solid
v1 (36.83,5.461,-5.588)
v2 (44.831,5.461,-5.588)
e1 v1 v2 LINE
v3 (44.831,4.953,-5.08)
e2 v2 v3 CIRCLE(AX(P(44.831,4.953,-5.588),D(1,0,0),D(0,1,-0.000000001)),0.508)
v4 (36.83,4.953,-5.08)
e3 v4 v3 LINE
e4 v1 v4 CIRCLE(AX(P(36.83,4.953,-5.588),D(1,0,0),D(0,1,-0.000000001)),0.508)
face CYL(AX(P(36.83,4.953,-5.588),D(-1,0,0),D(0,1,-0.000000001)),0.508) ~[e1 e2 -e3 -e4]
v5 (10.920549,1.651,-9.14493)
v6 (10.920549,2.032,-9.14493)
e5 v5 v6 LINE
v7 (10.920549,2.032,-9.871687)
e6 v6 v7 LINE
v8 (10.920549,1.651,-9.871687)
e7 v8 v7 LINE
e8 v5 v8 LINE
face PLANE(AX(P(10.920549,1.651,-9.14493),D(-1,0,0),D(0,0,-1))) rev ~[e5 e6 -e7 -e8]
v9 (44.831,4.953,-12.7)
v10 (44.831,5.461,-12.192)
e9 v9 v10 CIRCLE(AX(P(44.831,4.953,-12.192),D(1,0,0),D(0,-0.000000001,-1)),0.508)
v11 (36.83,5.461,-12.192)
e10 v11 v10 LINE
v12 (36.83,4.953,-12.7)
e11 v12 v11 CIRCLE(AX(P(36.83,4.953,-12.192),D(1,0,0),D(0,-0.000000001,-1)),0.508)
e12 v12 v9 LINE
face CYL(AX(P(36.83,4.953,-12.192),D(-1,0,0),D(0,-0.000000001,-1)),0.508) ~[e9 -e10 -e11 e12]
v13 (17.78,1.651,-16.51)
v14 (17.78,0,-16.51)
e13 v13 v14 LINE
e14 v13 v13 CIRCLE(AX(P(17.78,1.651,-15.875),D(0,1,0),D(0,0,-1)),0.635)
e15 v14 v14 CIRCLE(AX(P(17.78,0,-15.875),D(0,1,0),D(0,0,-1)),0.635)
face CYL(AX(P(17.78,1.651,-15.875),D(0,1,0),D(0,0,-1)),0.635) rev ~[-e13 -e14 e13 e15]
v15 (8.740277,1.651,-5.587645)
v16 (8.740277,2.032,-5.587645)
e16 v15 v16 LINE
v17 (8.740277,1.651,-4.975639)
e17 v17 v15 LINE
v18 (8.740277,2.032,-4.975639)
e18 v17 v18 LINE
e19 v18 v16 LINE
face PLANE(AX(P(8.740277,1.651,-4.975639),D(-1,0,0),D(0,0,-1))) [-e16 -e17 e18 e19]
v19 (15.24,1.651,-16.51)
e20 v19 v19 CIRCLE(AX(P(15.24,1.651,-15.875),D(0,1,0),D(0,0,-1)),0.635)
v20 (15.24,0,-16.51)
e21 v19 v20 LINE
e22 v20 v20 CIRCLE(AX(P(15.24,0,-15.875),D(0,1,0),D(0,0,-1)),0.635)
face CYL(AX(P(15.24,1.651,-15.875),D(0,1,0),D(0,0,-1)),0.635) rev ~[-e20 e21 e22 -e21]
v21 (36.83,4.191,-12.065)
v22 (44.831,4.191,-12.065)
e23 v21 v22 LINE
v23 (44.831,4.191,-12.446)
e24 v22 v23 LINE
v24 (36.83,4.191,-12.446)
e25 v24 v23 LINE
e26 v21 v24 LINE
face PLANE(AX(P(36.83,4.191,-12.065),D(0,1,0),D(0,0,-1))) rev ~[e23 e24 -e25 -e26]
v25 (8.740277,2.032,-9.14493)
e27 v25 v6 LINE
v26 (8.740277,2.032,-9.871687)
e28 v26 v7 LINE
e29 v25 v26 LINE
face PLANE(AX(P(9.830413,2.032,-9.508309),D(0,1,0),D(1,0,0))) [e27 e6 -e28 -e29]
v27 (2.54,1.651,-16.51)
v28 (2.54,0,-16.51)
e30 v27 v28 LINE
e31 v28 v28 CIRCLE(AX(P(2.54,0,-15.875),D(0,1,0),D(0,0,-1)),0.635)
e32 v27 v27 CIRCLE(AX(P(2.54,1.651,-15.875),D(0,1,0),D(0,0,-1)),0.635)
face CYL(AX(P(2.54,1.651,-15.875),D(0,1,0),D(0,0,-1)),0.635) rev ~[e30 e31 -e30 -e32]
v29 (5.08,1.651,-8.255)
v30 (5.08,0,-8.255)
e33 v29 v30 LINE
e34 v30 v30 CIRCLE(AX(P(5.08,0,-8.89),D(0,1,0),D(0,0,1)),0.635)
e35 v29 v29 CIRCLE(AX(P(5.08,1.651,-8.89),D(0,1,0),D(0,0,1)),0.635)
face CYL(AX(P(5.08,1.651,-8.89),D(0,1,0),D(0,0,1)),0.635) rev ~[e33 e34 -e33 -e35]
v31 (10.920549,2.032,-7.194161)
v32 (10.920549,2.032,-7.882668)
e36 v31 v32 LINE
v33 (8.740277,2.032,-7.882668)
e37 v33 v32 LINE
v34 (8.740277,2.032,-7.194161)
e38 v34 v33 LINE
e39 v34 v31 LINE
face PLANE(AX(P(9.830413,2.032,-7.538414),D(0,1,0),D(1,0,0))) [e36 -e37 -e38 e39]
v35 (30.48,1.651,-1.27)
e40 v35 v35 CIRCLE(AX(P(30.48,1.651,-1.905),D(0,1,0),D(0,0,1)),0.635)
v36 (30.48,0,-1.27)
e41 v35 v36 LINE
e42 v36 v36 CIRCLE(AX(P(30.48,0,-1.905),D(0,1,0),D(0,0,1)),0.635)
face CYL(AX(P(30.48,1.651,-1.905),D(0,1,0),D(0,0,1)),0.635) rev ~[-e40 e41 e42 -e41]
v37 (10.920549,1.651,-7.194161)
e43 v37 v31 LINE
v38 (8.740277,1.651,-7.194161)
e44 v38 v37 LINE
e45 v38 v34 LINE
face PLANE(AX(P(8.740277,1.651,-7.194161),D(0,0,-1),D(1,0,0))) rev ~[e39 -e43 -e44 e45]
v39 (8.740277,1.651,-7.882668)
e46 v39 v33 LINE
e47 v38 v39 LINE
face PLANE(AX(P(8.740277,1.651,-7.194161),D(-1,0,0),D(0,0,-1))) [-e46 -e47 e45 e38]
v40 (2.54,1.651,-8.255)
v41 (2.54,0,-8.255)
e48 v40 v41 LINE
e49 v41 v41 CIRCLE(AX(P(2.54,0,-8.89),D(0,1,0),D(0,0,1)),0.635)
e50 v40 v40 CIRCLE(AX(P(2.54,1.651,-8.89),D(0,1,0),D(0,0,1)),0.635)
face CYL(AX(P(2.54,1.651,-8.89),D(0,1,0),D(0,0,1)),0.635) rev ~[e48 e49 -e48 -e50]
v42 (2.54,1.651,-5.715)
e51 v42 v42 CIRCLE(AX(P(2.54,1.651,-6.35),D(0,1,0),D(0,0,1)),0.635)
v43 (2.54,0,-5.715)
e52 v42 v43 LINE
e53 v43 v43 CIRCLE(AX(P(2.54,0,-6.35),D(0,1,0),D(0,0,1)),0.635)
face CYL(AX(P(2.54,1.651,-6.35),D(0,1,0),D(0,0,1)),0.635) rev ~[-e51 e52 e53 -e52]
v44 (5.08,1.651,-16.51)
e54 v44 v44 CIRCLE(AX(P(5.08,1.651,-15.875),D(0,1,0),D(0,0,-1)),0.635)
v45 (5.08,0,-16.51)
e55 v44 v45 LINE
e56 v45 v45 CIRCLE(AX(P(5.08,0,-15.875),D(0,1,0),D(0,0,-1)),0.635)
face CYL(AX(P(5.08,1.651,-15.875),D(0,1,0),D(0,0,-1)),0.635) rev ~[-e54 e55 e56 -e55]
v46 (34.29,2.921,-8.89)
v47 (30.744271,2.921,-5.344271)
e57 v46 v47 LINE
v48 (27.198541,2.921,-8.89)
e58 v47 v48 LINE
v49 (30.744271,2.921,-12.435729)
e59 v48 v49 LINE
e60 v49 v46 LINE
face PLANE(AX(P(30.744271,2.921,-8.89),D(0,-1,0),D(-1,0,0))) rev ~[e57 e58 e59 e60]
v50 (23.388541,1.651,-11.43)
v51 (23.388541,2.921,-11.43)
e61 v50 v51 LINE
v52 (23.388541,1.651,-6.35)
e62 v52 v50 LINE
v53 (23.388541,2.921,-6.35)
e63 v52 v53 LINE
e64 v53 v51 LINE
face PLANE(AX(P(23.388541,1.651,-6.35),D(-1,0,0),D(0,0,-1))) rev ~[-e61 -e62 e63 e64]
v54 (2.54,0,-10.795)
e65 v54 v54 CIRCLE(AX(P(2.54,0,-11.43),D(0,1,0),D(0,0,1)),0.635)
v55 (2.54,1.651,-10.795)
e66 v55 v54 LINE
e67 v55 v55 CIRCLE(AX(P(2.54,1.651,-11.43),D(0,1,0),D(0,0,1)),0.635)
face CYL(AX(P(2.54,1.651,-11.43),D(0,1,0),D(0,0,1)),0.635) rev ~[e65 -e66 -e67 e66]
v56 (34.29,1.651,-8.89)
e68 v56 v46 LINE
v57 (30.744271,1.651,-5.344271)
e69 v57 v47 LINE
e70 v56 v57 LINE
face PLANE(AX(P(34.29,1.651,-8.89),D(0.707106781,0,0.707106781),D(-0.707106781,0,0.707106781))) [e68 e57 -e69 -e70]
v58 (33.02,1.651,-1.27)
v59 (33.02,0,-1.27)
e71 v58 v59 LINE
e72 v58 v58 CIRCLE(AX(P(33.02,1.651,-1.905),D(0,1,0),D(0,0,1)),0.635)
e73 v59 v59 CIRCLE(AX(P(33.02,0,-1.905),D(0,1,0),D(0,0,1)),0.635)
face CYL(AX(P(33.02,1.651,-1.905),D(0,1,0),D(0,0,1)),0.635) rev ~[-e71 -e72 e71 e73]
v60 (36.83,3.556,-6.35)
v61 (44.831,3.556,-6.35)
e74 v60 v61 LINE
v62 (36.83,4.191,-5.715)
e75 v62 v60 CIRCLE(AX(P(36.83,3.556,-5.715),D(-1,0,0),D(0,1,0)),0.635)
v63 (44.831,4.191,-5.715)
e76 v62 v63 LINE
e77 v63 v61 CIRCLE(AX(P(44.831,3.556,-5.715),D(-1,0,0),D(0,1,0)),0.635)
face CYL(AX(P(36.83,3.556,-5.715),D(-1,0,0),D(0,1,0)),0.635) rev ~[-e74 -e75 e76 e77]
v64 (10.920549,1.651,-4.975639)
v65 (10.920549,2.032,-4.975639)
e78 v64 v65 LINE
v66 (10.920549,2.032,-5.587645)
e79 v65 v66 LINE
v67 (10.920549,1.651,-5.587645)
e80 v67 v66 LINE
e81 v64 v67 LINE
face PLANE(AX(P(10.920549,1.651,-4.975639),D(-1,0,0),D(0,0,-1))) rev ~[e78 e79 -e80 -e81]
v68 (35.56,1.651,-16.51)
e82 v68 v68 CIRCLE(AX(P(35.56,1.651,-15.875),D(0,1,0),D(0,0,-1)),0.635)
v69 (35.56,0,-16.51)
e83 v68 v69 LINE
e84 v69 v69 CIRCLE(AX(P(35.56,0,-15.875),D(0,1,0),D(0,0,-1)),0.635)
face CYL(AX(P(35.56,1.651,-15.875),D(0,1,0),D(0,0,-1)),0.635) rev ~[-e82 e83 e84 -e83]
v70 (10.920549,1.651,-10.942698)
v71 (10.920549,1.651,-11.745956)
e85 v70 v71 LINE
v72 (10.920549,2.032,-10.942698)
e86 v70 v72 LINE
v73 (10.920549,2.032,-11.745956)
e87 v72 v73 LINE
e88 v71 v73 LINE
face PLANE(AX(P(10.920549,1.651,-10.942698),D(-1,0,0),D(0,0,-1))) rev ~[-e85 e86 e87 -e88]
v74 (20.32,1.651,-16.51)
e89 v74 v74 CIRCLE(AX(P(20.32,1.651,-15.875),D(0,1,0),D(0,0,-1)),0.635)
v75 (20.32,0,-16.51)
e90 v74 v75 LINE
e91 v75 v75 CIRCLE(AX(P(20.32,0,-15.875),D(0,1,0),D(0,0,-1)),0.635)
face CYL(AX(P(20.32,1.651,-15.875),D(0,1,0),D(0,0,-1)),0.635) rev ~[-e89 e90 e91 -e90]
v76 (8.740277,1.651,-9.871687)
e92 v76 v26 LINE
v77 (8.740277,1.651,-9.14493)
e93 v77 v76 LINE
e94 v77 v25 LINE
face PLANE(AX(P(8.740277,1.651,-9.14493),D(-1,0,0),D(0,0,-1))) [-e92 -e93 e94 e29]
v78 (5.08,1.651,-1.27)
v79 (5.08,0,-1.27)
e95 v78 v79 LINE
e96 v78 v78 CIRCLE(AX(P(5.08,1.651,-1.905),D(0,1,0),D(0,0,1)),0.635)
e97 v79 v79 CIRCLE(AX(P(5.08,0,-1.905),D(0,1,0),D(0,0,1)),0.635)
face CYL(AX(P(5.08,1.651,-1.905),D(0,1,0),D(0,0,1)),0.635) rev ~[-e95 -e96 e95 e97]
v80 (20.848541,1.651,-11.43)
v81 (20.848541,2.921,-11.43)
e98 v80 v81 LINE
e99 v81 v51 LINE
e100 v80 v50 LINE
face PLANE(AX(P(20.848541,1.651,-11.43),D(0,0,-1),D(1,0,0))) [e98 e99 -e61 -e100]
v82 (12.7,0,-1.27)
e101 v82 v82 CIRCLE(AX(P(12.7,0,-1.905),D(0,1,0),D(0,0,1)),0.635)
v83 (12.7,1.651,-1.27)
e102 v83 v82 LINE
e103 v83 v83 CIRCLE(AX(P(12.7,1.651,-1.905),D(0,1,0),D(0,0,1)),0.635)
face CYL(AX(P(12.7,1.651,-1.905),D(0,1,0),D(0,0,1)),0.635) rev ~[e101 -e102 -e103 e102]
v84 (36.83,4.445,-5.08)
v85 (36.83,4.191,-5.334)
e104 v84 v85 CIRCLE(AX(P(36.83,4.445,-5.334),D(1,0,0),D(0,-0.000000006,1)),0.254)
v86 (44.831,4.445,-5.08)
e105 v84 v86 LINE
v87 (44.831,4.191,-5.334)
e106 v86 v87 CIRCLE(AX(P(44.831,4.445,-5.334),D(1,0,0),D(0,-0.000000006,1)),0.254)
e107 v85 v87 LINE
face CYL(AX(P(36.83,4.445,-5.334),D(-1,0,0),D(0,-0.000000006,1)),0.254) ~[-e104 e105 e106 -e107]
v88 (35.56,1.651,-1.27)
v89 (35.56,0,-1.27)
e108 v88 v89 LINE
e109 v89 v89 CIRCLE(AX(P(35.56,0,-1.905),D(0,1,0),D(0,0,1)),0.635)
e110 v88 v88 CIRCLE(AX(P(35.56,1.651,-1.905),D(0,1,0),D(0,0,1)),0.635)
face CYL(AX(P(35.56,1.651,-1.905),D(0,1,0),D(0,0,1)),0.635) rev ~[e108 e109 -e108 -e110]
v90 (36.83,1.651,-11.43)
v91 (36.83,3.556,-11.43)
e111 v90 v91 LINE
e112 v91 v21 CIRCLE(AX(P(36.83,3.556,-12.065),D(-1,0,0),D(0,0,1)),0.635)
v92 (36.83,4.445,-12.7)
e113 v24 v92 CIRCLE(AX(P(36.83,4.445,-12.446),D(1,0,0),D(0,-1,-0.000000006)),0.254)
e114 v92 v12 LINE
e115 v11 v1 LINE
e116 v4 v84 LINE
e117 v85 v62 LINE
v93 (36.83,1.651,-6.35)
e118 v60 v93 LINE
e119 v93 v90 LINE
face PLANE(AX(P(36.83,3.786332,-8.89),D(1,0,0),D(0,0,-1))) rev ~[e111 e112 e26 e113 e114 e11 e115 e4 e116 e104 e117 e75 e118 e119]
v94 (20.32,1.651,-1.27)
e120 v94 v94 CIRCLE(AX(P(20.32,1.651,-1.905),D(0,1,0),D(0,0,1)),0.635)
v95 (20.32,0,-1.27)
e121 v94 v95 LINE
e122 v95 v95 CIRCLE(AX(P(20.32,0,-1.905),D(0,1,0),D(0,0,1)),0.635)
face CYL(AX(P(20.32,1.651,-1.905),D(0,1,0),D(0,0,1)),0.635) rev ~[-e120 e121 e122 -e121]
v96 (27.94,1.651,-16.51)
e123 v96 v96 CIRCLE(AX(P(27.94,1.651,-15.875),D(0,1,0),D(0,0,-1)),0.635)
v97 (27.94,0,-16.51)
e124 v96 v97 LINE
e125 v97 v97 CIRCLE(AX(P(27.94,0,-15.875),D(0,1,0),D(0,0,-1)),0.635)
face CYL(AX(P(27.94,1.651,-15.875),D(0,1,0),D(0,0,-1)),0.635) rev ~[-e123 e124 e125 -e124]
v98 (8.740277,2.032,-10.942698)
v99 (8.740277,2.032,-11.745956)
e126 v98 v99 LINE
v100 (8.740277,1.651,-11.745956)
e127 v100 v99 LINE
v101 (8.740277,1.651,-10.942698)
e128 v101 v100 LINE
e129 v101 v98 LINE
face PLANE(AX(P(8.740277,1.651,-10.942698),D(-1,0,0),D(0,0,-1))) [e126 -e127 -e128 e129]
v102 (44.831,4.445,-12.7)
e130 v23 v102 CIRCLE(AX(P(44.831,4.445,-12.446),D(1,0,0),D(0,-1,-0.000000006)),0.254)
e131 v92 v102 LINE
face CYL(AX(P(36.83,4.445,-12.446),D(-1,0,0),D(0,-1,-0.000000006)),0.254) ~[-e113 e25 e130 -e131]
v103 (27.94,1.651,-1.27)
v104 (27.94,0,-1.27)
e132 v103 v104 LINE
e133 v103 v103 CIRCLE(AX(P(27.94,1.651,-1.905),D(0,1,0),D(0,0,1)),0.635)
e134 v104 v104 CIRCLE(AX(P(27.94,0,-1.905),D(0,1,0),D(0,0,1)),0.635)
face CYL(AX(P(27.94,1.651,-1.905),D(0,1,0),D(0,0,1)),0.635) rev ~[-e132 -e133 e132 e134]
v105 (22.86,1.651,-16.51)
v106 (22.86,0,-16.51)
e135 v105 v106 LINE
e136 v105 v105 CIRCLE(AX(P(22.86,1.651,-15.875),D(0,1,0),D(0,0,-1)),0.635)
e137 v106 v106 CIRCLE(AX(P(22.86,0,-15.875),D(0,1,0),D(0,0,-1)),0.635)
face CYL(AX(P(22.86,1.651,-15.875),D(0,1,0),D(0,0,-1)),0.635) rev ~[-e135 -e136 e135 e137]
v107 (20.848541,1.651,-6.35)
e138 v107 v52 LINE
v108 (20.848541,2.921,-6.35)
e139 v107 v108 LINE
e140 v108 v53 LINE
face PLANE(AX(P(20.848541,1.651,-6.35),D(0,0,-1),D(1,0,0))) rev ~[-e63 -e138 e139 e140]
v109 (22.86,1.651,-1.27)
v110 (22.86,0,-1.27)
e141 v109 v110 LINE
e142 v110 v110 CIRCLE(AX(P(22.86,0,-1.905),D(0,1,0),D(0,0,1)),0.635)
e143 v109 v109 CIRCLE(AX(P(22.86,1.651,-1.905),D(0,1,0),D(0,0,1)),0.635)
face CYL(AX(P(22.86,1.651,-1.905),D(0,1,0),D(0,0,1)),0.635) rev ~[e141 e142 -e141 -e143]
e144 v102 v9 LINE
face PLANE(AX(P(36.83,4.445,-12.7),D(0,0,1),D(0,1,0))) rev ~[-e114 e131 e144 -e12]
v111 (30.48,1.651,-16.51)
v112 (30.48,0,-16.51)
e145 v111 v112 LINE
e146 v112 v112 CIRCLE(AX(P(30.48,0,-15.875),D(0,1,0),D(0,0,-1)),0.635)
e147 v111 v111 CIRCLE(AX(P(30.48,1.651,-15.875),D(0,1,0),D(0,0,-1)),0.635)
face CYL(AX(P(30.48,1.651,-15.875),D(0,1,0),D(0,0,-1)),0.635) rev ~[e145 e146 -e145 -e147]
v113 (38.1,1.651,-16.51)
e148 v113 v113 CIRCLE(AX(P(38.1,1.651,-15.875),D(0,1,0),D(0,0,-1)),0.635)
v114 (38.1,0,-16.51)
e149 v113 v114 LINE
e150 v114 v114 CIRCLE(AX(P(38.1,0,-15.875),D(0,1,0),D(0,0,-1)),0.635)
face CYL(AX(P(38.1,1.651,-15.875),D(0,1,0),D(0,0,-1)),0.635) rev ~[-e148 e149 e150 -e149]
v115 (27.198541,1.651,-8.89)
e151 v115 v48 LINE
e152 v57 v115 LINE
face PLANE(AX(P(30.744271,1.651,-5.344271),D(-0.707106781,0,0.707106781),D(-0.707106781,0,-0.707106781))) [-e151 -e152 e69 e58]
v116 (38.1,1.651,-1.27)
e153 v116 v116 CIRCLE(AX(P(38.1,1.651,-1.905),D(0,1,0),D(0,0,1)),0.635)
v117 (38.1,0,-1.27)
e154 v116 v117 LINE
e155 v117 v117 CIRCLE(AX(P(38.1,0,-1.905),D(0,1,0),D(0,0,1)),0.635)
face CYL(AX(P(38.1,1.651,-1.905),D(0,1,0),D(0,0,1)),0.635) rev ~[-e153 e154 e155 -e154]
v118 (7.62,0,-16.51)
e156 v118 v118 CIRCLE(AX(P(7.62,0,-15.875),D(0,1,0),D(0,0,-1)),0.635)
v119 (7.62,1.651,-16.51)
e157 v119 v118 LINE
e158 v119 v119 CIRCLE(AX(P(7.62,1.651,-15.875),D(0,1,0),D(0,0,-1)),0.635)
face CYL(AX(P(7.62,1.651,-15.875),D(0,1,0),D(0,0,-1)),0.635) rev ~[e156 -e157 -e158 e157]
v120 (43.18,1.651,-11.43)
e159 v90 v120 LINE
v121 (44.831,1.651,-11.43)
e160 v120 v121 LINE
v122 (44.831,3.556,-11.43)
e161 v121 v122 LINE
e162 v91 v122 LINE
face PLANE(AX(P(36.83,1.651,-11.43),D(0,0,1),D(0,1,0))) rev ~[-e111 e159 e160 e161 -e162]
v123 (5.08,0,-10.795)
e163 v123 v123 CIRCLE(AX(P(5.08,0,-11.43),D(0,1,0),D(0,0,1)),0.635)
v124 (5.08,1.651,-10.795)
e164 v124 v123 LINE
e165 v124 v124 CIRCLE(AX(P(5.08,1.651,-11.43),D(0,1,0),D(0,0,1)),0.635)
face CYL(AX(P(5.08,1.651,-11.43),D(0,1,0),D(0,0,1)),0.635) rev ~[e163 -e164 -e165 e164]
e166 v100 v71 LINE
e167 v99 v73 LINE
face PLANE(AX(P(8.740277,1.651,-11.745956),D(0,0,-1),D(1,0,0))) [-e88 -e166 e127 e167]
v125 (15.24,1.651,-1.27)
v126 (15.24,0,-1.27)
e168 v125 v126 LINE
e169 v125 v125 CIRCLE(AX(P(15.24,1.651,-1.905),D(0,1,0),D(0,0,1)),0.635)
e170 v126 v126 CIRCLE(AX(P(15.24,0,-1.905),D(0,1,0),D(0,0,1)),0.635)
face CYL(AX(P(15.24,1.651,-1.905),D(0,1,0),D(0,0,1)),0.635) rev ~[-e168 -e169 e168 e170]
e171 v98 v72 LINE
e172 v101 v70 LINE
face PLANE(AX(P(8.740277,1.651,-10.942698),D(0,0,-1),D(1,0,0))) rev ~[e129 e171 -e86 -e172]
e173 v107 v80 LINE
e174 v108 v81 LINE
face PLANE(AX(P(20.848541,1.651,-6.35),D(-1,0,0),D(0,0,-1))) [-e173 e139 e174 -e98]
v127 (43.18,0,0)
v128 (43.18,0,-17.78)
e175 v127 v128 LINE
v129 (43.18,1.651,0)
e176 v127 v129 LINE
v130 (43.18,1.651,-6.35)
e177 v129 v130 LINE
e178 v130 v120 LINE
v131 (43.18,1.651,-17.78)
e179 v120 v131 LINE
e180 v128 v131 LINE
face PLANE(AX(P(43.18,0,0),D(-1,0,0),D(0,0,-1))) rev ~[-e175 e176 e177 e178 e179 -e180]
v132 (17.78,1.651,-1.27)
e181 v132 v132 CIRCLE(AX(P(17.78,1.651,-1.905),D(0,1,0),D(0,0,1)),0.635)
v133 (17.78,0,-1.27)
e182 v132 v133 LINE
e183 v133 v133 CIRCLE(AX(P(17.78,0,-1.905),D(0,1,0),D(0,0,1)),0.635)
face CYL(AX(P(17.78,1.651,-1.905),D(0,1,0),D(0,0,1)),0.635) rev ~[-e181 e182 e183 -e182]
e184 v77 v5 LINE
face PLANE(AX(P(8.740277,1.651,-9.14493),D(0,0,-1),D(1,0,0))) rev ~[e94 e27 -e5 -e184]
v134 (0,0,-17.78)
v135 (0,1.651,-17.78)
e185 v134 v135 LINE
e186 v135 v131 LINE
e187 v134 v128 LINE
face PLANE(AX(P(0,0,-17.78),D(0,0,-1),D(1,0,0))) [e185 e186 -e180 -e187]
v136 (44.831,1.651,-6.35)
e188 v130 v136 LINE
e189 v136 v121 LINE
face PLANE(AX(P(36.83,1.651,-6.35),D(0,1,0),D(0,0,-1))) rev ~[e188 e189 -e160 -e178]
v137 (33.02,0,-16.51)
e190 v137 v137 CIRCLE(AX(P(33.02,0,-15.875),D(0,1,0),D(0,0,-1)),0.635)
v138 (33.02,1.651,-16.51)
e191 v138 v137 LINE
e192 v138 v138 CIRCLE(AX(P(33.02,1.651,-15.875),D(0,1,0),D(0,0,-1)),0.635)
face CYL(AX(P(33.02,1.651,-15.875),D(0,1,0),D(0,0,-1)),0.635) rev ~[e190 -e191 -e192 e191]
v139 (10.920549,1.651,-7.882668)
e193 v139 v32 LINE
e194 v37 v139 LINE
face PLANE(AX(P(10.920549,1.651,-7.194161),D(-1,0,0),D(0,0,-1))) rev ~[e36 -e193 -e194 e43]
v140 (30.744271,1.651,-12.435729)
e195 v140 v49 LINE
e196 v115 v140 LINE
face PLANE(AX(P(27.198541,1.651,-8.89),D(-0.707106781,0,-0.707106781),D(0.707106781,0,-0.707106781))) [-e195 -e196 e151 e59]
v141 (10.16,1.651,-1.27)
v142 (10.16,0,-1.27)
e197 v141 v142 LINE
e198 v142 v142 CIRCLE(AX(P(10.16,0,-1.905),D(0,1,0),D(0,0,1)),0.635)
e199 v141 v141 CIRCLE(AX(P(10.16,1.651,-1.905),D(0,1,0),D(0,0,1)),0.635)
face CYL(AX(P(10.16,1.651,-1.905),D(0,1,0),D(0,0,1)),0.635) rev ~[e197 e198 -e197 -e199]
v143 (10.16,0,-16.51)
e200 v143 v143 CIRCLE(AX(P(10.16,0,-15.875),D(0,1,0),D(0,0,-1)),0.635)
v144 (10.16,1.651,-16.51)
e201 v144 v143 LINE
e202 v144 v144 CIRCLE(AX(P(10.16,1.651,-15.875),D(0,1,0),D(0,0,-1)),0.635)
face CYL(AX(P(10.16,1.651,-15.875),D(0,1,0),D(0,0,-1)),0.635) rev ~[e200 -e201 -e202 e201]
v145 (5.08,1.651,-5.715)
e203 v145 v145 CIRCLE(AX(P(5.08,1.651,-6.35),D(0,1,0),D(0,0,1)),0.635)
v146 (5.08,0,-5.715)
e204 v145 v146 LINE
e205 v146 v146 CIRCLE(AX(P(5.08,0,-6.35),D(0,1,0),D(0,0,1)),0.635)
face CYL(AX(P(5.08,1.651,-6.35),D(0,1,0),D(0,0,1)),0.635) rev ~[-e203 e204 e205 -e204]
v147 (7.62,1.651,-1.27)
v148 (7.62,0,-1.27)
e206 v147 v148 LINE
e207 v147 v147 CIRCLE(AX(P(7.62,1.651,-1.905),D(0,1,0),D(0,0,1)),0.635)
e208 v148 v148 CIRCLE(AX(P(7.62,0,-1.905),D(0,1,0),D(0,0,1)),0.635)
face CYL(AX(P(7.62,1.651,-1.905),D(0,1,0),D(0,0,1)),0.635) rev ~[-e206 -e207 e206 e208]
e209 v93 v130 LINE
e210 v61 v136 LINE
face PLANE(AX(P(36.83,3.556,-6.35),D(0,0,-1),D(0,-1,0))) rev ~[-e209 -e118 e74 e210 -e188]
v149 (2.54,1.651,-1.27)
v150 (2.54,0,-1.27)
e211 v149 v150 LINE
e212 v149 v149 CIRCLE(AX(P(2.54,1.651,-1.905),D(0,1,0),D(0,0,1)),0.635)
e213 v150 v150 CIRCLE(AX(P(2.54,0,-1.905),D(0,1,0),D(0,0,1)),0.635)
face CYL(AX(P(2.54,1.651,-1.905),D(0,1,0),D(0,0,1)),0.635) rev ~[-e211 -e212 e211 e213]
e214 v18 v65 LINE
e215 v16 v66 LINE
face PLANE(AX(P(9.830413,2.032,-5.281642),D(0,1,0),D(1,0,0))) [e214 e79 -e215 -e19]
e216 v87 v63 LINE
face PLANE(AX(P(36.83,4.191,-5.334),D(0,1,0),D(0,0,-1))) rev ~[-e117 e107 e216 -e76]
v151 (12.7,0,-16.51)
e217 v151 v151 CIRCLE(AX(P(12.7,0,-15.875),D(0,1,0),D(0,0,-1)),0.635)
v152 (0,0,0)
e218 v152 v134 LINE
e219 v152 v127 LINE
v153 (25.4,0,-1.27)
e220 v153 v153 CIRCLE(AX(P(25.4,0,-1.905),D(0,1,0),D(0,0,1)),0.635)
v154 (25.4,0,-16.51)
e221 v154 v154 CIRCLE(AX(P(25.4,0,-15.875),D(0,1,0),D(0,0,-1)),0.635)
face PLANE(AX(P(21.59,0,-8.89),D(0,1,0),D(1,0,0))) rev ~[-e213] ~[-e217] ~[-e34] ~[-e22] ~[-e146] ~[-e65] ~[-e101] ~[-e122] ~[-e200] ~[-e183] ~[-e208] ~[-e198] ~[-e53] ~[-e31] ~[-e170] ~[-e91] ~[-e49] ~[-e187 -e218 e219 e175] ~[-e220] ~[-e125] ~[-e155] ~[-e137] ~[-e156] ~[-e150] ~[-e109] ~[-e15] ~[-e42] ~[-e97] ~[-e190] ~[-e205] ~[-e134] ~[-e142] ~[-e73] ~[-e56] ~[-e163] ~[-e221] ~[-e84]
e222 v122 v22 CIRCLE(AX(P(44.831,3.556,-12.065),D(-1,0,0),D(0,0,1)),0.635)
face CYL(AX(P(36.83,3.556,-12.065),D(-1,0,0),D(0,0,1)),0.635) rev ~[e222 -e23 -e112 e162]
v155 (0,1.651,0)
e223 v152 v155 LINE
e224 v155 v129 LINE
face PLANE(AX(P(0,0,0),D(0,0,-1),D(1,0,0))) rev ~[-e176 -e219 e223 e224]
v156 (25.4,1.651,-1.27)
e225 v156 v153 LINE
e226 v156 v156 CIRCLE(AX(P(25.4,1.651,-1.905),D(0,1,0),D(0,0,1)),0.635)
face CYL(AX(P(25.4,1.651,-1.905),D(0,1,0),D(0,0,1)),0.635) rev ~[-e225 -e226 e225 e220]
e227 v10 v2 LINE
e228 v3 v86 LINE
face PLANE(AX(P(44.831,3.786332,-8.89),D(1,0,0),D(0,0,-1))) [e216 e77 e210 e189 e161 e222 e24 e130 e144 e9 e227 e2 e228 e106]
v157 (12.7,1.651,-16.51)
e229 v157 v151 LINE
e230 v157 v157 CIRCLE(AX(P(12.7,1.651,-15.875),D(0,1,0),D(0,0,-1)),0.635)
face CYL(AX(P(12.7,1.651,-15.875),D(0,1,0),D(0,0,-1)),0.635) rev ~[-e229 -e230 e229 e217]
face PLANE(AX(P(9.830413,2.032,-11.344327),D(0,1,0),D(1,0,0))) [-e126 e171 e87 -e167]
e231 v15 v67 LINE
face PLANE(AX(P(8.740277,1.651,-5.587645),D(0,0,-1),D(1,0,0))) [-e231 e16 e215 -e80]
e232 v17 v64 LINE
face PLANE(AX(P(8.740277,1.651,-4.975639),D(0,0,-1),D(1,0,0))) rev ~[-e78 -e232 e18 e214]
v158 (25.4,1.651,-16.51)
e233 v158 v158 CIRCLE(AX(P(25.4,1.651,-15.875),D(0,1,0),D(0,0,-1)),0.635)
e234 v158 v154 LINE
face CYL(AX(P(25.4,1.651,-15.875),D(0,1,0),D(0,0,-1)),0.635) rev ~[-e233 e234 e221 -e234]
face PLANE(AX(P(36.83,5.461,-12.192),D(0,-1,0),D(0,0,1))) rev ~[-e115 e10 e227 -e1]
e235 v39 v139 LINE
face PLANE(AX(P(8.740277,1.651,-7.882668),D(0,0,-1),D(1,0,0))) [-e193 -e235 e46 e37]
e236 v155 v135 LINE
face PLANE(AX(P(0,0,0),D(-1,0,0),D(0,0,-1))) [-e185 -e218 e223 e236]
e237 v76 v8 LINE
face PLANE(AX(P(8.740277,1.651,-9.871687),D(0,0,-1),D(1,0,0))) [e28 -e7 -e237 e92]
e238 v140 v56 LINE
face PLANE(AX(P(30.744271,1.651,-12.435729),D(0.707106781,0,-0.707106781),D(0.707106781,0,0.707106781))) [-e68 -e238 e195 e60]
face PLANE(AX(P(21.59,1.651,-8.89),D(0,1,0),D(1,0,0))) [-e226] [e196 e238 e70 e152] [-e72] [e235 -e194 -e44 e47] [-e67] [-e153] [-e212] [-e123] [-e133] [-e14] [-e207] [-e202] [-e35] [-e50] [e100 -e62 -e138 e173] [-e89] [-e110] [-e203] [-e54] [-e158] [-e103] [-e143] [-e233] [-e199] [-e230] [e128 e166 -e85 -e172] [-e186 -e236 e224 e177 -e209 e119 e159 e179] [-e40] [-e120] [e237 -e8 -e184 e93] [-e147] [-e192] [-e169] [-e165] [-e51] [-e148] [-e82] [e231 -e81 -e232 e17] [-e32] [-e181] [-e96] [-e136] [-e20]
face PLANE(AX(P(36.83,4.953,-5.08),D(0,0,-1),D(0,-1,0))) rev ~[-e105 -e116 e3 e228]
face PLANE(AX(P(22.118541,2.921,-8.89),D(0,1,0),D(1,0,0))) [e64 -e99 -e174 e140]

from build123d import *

# Parameters (mm, degrees)
SKETCH1_W                = 43.18
SKETCH1_H                = 17.78
BOSS_EXTRUDE1_DEPTH      = 1.651
SKETCH2_R                = 0.635
CUT_EXTRUDE1_DEPTH       = 47.726508547
BOSS_EXTRUDE2_DEPTH      = 1.651
BOSS_EXTRUDE2_DEPTH_BACK = 6.35
SKETCH4_W                = 2.54
SKETCH4_H                = 5.08
BOSS_EXTRUDE3_DEPTH      = 1.27
SKETCH5_R                = 0.635
CUT_EXTRUDE2_DEPTH       = 49.378332557
SKETCH6_W                = 2.180271617
SKETCH6_H                = 0.803257964
SKETCH6_H_2              = 0.726757206
SKETCH6_H_3              = 0.688506826
SKETCH6_H_4              = 0.612006068
BOSS_EXTRUDE4_DEPTH      = 0.381


with BuildPart() as part:
    # Sketch1 → Boss-Extrude1 (new body)
    with BuildSketch(Plane(origin=(0, 0, 0), x_dir=(1, 0, 0), z_dir=(0, 1, 0))):
        with Locations((21.59, 8.89)):
            Rectangle(SKETCH1_W, SKETCH1_H)
    extrude(amount=BOSS_EXTRUDE1_DEPTH)

    # Sketch2 → Cut-Extrude1 (cut, through all)
    with BuildSketch(Plane(origin=(0, 1.651, 0), x_dir=(1, 0, 0), z_dir=(0, 1, 0))):
        with Locations(Location((2.54, 1.905, 0), (0, 0, 270))):
            Circle(SKETCH2_R)
        with Locations(Location((5.08, 1.905, 0), (0, 0, 270))):
            Circle(SKETCH2_R)
        with Locations(Location((7.62, 1.905, 0), (0, 0, 270))):
            Circle(SKETCH2_R)
        with Locations(Location((10.16, 1.905, 0), (0, 0, 270))):
            Circle(SKETCH2_R)
        with Locations(Location((12.7, 1.905, 0), (0, 0, 270))):
            Circle(SKETCH2_R)
        with Locations(Location((15.24, 1.905, 0), (0, 0, 270))):
            Circle(SKETCH2_R)
        with Locations(Location((17.78, 1.905, 0), (0, 0, 270))):
            Circle(SKETCH2_R)
        with Locations(Location((20.32, 1.905, 0), (0, 0, 270))):
            Circle(SKETCH2_R)
        with Locations(Location((22.86, 1.905, 0), (0, 0, 270))):
            Circle(SKETCH2_R)
        with Locations(Location((25.4, 1.905, 0), (0, 0, 270))):
            Circle(SKETCH2_R)
        with Locations(Location((27.94, 1.905, 0), (0, 0, 270))):
            Circle(SKETCH2_R)
        with Locations(Location((30.48, 1.905, 0), (0, 0, 270))):
            Circle(SKETCH2_R)
        with Locations(Location((33.02, 1.905, 0), (0, 0, 270))):
            Circle(SKETCH2_R)
        with Locations(Location((35.56, 1.905, 0), (0, 0, 270))):
            Circle(SKETCH2_R)
        with Locations(Location((38.1, 1.905, 0), (0, 0, 270))):
            Circle(SKETCH2_R)
        with Locations(Location((38.1, 15.875, 0), (0, 0, 90))):
            Circle(SKETCH2_R)
        with Locations(Location((35.56, 15.875, 0), (0, 0, 90))):
            Circle(SKETCH2_R)
        with Locations(Location((33.02, 15.875, 0), (0, 0, 90))):
            Circle(SKETCH2_R)
        with Locations(Location((30.48, 15.875, 0), (0, 0, 90))):
            Circle(SKETCH2_R)
        with Locations(Location((27.94, 15.875, 0), (0, 0, 90))):
            Circle(SKETCH2_R)
        with Locations(Location((25.4, 15.875, 0), (0, 0, 90))):
            Circle(SKETCH2_R)
        with Locations(Location((22.86, 15.875, 0), (0, 0, 90))):
            Circle(SKETCH2_R)
        with Locations(Location((20.32, 15.875, 0), (0, 0, 90))):
            Circle(SKETCH2_R)
        with Locations(Location((17.78, 15.875, 0), (0, 0, 90))):
            Circle(SKETCH2_R)
        with Locations(Location((15.24, 15.875, 0), (0, 0, 90))):
            Circle(SKETCH2_R)
        with Locations(Location((12.7, 15.875, 0), (0, 0, 90))):
            Circle(SKETCH2_R)
        with Locations(Location((10.16, 15.875, 0), (0, 0, 90))):
            Circle(SKETCH2_R)
        with Locations(Location((7.62, 15.875, 0), (0, 0, 90))):
            Circle(SKETCH2_R)
        with Locations(Location((5.08, 15.875, 0), (0, 0, 90))):
            Circle(SKETCH2_R)
        with Locations(Location((2.54, 15.875, 0), (0, 0, 90))):
            Circle(SKETCH2_R)
    extrude(amount=-CUT_EXTRUDE1_DEPTH, mode=Mode.SUBTRACT)

    # Sketch3 → Boss-Extrude2 (add, two sides: drawn at the far end of the back side and taken through both)
    with BuildSketch(Plane(origin=(43.18, 0, 0), x_dir=(0, 0, -1), z_dir=(1, 0, 0)).offset(-BOSS_EXTRUDE2_DEPTH_BACK)):
        with BuildLine():
            Line((6.35, 1.651), (11.43, 1.651))
            Line((11.43, 1.651), (11.43, 3.556))
            ThreePointArc((11.43, 3.556), (11.615987194, 4.005012806), (12.065, 4.191))
            Line((12.065, 4.191), (12.446, 4.191))
            ThreePointArc((12.446, 4.191), (12.625605122, 4.265394878), (12.7, 4.445))
            Line((12.7, 4.445), (12.7, 4.953))
            ThreePointArc((12.7, 4.953), (12.551210245, 5.312210245), (12.192, 5.461))
            Line((12.192, 5.461), (5.588, 5.461))
            ThreePointArc((5.588, 5.461), (5.228789755, 5.312210245), (5.08, 4.953))
            Line((5.08, 4.953), (5.08, 4.445))
            ThreePointArc((5.08, 4.445), (5.154394878, 4.265394878), (5.334, 4.191))
            Line((5.334, 4.191), (5.715, 4.191))
            ThreePointArc((5.715, 4.191), (6.164012806, 4.005012806), (6.35, 3.556))
            Line((6.35, 3.556), (6.35, 1.651))
        make_face()
    extrude(amount=BOSS_EXTRUDE2_DEPTH + BOSS_EXTRUDE2_DEPTH_BACK)

    # Sketch4 → Boss-Extrude3 (add)
    with BuildSketch(Plane(origin=(0, 1.651, 0), x_dir=(1, 0, 0), z_dir=(0, 1, 0))):
        Polygon((27.198541148, 8.89), (30.744270574, 12.435729426), (34.29, 8.89), (30.744270574, 5.344270574), align=None)
        with Locations((22.118541148, 8.89)):
            Rectangle(SKETCH4_W, SKETCH4_H)
    extrude(amount=BOSS_EXTRUDE3_DEPTH)

    # Sketch5 → Cut-Extrude2 (cut, through all)
    with BuildSketch(Plane(origin=(0, 1.651, 0), x_dir=(1, 0, 0), z_dir=(0, 1, 0))):
        with Locations(Location((2.54, 11.43, 0), (0, 0, 270))):
            Circle(SKETCH5_R)
        with Locations(Location((5.08, 11.43, 0), (0, 0, 270))):
            Circle(SKETCH5_R)
        with Locations(Location((5.08, 8.89, 0), (0, 0, 270))):
            Circle(SKETCH5_R)
        with Locations(Location((2.54, 8.89, 0), (0, 0, 270))):
            Circle(SKETCH5_R)
        with Locations(Location((2.54, 6.35, 0), (0, 0, 270))):
            Circle(SKETCH5_R)
        with Locations(Location((5.08, 6.35, 0), (0, 0, 270))):
            Circle(SKETCH5_R)
    extrude(amount=-CUT_EXTRUDE2_DEPTH, mode=Mode.SUBTRACT)

    # Sketch6 → Boss-Extrude4 (add)
    with BuildSketch(Plane(origin=(0, 1.651, 0), x_dir=(1, 0, 0), z_dir=(0, 1, 0))):
        with Locations((9.83041316, 11.344327099)):
            Rectangle(SKETCH6_W, SKETCH6_H)
        with Locations((9.83041316, 9.508308895)):
            Rectangle(SKETCH6_W, SKETCH6_H_2)
        with Locations((9.83041316, 7.538414363)):
            Rectangle(SKETCH6_W, SKETCH6_H_3)
        with Locations((9.83041316, 5.281641987)):
            Rectangle(SKETCH6_W, SKETCH6_H_4)
    extrude(amount=BOSS_EXTRUDE4_DEPTH)


solid = part.part
